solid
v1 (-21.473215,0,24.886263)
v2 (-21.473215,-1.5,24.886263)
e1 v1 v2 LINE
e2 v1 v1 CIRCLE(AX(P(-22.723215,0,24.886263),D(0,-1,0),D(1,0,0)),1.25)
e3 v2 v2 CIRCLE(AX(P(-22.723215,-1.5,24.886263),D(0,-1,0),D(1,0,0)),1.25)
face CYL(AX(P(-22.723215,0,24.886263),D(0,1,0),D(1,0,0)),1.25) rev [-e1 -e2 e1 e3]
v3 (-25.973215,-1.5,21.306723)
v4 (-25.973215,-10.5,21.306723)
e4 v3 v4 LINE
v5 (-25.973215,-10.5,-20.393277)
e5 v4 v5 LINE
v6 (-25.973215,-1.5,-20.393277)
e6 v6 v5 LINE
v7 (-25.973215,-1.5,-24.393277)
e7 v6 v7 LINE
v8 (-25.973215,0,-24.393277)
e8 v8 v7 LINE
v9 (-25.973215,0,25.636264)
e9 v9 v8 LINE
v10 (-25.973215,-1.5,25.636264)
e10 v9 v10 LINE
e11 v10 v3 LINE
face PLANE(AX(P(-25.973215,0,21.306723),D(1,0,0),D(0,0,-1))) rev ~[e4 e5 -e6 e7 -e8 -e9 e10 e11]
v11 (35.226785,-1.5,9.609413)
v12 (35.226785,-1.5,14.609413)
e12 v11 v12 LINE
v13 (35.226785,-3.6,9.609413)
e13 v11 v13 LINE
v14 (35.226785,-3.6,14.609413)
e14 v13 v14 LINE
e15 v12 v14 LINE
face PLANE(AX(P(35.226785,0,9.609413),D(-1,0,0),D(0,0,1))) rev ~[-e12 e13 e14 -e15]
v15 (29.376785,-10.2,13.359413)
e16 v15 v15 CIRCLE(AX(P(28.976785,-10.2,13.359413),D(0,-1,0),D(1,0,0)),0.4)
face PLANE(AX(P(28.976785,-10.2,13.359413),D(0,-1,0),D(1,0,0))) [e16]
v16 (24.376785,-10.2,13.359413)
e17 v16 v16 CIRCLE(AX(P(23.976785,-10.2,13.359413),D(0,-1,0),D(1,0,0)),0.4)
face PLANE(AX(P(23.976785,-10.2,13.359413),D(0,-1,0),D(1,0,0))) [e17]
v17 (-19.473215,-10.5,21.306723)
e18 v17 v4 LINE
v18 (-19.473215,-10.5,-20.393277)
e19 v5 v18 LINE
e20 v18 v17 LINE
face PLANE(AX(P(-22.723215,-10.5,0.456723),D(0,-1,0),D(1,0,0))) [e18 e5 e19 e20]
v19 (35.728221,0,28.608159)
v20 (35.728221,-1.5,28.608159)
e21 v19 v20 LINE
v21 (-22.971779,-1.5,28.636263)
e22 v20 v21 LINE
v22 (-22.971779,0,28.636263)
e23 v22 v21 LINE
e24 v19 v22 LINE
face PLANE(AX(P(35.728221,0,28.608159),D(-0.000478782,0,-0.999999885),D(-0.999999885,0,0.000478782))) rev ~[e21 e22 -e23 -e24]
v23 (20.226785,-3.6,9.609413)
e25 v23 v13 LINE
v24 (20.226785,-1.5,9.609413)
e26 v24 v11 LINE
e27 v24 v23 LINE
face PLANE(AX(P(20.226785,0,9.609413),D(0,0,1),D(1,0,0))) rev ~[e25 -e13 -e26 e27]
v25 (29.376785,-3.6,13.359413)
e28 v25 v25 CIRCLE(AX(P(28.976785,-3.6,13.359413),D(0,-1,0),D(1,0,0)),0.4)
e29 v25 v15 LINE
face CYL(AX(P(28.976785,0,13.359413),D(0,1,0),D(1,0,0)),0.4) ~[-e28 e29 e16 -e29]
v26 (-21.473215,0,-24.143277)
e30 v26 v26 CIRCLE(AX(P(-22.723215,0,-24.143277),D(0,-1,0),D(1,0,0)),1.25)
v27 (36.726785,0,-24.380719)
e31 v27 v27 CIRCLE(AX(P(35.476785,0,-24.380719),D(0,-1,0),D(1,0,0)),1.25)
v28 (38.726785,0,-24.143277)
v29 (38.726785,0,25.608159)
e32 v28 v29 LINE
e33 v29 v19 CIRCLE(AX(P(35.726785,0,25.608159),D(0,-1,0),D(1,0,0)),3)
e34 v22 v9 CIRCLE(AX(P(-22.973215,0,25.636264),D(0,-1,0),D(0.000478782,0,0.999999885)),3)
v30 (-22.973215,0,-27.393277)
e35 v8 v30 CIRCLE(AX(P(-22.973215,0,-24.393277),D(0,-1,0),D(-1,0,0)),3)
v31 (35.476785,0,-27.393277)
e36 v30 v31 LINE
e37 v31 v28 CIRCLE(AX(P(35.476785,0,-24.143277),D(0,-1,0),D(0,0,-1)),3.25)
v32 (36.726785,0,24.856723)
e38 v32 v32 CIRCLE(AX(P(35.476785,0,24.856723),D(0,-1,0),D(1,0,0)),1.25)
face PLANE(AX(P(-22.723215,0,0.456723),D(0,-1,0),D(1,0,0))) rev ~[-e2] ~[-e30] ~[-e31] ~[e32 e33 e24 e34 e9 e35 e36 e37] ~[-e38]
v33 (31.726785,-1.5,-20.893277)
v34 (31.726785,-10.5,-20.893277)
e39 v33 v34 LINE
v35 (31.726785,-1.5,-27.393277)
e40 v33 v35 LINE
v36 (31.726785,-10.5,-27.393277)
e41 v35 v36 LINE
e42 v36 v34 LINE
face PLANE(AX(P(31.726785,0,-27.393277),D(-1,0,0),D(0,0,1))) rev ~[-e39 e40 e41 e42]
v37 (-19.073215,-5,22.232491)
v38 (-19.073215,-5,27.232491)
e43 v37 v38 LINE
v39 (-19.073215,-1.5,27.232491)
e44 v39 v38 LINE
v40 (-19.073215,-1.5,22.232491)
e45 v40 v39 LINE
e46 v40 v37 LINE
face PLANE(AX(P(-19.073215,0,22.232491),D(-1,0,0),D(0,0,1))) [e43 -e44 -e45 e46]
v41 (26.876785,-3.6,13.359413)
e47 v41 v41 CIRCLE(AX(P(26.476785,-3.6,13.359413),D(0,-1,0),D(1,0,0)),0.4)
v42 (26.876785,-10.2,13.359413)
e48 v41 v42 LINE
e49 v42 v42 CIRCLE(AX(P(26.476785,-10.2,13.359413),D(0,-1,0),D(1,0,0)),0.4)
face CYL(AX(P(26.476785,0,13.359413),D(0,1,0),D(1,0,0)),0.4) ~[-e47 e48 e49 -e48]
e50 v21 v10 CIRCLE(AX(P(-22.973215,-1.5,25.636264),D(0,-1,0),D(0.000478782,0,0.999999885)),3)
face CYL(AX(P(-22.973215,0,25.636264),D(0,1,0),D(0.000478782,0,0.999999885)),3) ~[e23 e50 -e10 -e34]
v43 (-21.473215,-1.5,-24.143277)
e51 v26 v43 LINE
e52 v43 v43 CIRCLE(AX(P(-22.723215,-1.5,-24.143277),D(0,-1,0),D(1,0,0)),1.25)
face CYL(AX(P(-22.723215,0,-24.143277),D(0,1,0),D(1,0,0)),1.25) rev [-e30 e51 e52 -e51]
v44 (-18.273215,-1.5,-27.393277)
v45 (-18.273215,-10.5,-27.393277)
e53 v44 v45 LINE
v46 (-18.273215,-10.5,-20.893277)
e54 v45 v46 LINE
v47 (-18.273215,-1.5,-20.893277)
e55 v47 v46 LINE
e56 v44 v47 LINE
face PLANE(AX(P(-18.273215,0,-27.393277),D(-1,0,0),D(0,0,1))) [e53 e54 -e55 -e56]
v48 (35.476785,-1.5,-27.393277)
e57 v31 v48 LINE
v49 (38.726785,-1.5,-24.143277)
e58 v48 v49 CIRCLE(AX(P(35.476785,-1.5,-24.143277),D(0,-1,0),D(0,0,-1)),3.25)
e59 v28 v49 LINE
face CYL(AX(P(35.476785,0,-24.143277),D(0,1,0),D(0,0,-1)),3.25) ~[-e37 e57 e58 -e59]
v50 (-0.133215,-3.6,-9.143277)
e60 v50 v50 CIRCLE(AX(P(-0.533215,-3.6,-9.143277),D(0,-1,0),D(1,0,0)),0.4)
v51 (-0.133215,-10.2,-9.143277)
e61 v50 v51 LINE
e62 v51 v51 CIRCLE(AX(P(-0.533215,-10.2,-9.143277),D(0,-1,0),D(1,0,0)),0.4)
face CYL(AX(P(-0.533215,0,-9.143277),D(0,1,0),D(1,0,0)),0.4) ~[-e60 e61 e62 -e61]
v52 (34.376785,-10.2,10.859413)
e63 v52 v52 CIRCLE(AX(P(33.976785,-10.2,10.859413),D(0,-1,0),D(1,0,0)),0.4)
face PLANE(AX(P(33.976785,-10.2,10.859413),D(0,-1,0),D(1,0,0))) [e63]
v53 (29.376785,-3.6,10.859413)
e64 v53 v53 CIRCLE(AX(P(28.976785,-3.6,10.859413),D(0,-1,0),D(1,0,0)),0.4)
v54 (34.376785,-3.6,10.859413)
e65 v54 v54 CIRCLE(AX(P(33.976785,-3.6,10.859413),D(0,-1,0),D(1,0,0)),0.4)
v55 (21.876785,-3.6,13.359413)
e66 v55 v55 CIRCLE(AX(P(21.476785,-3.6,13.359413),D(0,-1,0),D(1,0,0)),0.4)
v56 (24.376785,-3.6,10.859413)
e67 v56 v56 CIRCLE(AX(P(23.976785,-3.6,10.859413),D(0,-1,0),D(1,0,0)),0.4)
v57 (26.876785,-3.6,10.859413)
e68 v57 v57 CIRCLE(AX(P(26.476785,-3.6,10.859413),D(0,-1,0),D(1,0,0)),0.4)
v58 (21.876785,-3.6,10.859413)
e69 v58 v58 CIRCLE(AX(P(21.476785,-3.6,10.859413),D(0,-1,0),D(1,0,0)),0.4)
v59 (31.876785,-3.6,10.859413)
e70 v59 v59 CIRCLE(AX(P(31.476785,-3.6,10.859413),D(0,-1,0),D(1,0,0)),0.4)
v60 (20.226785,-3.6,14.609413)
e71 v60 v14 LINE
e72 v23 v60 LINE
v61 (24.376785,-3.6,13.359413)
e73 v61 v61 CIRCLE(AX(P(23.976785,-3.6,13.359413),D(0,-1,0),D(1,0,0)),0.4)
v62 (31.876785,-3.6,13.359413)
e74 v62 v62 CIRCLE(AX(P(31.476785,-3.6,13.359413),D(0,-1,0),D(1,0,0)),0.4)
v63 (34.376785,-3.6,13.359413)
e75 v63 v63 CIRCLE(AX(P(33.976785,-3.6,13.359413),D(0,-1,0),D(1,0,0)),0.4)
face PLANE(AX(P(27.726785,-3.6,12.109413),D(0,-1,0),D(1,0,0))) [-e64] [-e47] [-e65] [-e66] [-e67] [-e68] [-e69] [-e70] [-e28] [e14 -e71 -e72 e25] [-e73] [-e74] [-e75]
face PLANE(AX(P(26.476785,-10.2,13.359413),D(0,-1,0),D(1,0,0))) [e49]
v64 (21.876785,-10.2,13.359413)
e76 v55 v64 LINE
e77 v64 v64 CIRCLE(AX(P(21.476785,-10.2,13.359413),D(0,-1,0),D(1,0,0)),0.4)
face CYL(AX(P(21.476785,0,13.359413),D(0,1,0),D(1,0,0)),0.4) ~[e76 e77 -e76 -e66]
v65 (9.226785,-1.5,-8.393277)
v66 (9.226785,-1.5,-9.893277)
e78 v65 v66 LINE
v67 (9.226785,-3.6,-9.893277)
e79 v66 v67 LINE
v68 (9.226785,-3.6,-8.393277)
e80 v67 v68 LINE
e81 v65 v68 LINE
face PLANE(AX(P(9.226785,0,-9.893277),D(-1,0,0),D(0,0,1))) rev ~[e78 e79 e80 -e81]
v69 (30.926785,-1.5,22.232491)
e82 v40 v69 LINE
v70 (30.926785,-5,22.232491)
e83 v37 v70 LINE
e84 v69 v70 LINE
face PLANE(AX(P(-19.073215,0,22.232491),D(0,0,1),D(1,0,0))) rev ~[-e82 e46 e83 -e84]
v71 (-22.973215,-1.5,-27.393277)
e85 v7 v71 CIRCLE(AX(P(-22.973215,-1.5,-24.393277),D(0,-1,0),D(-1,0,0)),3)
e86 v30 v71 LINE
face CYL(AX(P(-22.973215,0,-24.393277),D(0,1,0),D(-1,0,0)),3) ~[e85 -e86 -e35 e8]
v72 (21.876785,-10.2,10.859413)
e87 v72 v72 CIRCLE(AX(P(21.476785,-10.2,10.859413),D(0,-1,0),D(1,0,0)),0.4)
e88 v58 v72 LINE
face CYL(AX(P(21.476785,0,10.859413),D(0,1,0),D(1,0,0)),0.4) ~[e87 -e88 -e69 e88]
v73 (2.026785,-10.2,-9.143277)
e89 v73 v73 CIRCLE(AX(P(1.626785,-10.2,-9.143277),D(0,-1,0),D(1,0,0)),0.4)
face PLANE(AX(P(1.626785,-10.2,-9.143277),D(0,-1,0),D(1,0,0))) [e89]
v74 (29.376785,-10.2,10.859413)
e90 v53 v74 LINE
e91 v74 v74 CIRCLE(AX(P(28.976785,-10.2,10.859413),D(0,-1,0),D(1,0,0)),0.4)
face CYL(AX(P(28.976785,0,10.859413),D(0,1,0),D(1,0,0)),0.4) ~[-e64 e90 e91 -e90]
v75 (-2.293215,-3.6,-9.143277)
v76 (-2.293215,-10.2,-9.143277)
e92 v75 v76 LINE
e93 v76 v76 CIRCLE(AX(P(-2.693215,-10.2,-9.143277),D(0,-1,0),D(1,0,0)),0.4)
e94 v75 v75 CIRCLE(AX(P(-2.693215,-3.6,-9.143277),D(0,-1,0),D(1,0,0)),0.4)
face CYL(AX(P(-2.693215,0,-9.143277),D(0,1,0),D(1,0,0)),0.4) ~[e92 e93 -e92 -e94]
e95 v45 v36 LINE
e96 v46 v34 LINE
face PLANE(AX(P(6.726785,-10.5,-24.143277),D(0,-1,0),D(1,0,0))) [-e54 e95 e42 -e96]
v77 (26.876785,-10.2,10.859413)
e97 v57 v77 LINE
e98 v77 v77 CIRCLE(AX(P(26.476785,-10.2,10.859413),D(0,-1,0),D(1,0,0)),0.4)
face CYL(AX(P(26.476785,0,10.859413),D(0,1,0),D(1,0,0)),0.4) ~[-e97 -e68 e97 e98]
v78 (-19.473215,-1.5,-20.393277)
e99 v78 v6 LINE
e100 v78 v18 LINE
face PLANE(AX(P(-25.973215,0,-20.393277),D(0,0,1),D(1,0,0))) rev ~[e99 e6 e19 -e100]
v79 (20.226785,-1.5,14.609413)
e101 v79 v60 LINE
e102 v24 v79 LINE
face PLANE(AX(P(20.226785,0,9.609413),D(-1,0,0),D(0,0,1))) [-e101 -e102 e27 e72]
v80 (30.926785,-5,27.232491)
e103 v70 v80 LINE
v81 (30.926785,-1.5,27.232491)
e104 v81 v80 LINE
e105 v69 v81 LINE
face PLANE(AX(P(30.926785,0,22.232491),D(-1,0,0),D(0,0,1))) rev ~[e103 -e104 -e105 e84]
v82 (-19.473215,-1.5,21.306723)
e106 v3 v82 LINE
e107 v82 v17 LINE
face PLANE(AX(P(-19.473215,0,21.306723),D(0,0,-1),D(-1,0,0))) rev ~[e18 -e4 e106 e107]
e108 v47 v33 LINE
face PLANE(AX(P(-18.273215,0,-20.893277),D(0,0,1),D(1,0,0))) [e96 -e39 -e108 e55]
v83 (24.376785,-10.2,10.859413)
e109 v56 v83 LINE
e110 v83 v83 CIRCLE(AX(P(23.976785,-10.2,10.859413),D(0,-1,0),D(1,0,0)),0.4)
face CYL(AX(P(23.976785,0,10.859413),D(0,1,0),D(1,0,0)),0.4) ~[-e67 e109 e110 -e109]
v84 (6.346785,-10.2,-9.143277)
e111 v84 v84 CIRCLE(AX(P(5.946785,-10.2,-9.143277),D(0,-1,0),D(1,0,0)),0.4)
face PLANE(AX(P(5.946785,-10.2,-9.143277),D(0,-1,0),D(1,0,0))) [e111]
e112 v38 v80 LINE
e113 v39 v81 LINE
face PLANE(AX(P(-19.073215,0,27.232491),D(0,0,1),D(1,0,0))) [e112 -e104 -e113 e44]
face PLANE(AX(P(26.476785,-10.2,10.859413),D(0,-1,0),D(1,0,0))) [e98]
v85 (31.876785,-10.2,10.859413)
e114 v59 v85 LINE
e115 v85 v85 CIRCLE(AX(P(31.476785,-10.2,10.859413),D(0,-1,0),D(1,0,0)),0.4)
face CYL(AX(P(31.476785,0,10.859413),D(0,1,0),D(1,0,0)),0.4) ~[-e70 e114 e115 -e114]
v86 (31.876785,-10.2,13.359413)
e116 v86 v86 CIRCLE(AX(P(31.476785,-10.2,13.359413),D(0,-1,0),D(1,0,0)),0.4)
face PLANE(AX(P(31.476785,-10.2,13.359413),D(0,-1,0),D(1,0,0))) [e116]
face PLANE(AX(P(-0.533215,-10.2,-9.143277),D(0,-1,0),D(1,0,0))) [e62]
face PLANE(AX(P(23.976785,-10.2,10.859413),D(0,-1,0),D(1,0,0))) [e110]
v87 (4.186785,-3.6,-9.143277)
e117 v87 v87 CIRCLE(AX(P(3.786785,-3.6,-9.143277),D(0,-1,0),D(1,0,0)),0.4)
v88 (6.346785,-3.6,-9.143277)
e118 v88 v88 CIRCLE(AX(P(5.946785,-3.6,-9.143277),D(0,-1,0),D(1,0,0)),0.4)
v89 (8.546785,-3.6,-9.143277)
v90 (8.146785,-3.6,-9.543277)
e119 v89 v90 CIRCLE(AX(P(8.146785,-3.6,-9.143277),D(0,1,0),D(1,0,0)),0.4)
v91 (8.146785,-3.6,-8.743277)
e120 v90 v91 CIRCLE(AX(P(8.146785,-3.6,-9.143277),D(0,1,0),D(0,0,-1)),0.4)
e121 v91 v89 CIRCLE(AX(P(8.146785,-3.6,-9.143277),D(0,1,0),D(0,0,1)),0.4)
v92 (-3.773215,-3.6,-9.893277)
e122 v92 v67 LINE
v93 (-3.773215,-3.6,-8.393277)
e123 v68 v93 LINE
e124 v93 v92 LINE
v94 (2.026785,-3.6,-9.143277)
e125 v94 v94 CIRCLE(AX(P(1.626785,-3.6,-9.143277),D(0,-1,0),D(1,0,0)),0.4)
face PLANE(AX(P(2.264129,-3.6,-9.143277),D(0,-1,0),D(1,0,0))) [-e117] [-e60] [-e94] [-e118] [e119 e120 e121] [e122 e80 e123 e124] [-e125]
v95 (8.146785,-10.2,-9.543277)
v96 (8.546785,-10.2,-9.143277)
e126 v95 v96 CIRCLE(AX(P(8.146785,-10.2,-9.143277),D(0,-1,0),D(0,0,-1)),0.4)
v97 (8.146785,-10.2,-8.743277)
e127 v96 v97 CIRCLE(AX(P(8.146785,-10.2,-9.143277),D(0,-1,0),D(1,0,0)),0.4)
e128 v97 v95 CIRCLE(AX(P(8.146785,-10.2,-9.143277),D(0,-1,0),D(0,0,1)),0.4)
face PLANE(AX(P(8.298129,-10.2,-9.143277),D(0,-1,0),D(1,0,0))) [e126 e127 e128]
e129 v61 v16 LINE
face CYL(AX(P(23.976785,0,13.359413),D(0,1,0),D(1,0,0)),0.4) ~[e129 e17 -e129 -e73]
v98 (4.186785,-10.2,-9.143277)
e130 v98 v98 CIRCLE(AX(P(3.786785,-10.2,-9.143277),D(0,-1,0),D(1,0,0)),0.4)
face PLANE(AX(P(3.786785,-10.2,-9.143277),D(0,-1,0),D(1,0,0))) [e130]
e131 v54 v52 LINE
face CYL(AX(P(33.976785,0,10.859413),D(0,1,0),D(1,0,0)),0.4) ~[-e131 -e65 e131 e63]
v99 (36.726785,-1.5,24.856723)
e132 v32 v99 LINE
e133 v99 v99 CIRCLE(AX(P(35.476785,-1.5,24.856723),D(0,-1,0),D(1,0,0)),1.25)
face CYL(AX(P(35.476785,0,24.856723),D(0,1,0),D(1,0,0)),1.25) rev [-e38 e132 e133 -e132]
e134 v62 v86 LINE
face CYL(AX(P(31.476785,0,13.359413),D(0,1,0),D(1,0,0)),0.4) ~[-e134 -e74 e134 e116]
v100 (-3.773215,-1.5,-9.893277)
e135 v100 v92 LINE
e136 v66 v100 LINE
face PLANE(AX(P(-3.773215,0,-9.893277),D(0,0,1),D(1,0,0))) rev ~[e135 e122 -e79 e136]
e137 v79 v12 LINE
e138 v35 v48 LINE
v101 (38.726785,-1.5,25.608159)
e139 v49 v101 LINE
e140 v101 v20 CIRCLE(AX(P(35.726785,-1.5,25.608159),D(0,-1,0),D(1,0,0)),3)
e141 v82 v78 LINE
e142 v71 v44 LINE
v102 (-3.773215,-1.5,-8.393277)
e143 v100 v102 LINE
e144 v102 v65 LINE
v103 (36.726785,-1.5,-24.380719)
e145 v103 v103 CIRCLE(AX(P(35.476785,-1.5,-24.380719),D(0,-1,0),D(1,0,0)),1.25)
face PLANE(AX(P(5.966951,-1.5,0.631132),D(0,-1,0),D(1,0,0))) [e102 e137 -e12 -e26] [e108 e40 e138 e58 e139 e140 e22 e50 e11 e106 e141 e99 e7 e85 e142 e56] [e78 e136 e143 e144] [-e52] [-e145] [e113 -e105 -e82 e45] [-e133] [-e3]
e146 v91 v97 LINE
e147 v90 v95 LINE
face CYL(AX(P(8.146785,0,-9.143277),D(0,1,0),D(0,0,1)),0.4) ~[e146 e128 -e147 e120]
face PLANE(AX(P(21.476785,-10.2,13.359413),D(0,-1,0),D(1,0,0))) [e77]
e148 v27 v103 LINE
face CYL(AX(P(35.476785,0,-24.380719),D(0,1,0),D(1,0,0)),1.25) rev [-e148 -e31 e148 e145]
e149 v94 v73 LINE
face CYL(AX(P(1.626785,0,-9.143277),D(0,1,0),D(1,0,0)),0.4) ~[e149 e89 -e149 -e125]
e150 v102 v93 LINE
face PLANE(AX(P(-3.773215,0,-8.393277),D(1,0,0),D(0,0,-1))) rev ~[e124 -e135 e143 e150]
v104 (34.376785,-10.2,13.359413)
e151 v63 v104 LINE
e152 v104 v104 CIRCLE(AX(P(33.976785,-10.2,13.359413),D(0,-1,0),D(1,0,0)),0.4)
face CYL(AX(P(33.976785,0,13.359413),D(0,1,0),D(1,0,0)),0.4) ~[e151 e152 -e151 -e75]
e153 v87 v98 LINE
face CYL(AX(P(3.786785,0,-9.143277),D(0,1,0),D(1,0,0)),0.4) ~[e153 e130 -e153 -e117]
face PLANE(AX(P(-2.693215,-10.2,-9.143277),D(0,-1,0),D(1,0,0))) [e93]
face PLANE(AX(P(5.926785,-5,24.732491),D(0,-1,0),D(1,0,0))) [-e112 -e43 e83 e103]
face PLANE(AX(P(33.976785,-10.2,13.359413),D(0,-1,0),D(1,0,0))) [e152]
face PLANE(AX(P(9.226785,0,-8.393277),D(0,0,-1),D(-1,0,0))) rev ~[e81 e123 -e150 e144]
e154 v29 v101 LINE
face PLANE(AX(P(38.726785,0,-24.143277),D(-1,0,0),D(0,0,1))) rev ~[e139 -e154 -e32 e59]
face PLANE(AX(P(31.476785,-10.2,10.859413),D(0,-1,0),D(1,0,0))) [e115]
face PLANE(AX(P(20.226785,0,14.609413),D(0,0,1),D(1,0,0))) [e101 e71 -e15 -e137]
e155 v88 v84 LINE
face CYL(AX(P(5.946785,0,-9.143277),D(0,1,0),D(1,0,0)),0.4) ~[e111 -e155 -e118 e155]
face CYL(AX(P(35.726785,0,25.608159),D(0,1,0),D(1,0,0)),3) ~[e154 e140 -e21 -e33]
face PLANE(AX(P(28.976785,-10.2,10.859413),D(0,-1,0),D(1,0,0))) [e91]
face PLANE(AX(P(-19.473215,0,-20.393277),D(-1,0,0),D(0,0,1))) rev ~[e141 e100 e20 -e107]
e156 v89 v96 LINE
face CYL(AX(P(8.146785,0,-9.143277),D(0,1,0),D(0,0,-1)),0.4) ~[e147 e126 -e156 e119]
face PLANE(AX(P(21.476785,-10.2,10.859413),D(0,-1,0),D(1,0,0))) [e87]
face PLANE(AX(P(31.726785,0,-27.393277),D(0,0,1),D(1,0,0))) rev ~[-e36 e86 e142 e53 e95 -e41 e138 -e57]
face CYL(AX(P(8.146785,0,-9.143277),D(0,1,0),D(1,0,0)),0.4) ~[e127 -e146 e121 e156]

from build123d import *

# Parameters (mm, degrees)
F0_R     = 1.25
F0_W     = 50
F0_H     = 5
F0_W_2   = 15
F1_DEPTH = 1.5
F0_H_2   = 6.5
F2_DEPTH = 10.5
F0_R_2   = 0.4
F3_DEPTH = 3.6
F4_DEPTH = 10.2
F5_DEPTH = 5


with BuildPart() as f1:
    # F0 (on Front) → F1 (new body)
    with BuildSketch(Plane.XZ):
        with BuildLine():
            Line((38.7267845055, 24.8567230371), (38.7267845055, 25.6081590384))
            ThreePointArc((38.7267845055, 25.6081590384), (37.8486126129, 27.7289714965), (35.7282208505, 28.6081586945))
            Line((35.7282208505, 28.6081586945), (-22.9717791495, 28.6362631804))
            ThreePointArc((-22.9717791495, 28.6362631804), (-25.0940279526, 27.7580916317), (-25.9732154945, 25.6362635243))
            Line((-25.9732154945, 25.6362635243), (-25.9732154945, 21.3067230371))
            Line((-25.9732154945, 21.3067230371), (-19.4732154945, 21.3067230371))
            Line((-19.4732154945, 21.3067230371), (-19.4732154945, -20.3932769629))
            Line((-19.4732154945, -20.3932769629), (-25.9732154945, -20.3932769629))
            Line((-25.9732154945, -20.3932769629), (-25.9732154945, -24.3932769629))
            ThreePointArc((-25.9732154945, -24.3932769629), (-25.094535838, -26.5145973065), (-22.9732154945, -27.3932769629))
            Line((-22.9732154945, -27.3932769629), (-18.2732154945, -27.3932769629))
            Line((-18.2732154945, -27.3932769629), (-18.2732154945, -20.8932769629))
            Line((-18.2732154945, -20.8932769629), (31.7267845055, -20.8932769629))
            Line((31.7267845055, -20.8932769629), (31.7267845055, -27.3932769629))
            Line((31.7267845055, -27.3932769629), (35.4767845055, -27.3932769629))
            ThreePointArc((35.4767845055, -27.3932769629), (37.7748815444, -26.4413740018), (38.7267845055, -24.1432769629))
            Line((38.7267845055, -24.1432769629), (38.7267845055, 24.8567230371))
        make_face()
        with Locations((-22.7232154945, -24.1432769629)):
            Circle(F0_R, mode=Mode.SUBTRACT)
        Polygon((-3.7732154945, -9.8932769629), (-3.7732154945, -8.3932769629), (8.1467845055, -8.3932769629), (9.2267845055, -8.3932769629), (9.2267845055, -9.8932769629), (8.1467845055, -9.8932769629), (7.0267845055, -9.8932769629), (4.8667845055, -9.8932769629), (2.7067845055, -9.8932769629), (0.5467845055, -9.8932769629), (-1.6132154945, -9.8932769629), align=None, mode=Mode.SUBTRACT)
        with Locations((35.4767845055, -24.3807190031)):
            Circle(F0_R, mode=Mode.SUBTRACT)
        with Locations((-22.7232154945, 24.8862631804)):
            Circle(F0_R, mode=Mode.SUBTRACT)
        with Locations((5.9267845055, 24.7324910254)):
            Rectangle(F0_W, F0_H, mode=Mode.SUBTRACT)
        with Locations((27.7267845055, 12.1094132859)):
            Rectangle(F0_W_2, F0_H, mode=Mode.SUBTRACT)
        with Locations((35.4767845055, 24.8567230371)):
            Circle(F0_R, mode=Mode.SUBTRACT)
    extrude(amount=F1_DEPTH)

    # F0 (on Front) → F2 (join)
    with BuildSketch(Plane.XZ):
        Polygon((-19.4732154945, 21.3067230371), (-25.9732154945, 21.3067230371), (-25.9732154945, 8.8067230371), (-25.9732154945, -20.3932769629), (-19.4732154945, -20.3932769629), align=None)
        with Locations((6.7267845055, -24.1432769629)):
            Rectangle(F0_W, F0_H_2)
    extrude(amount=F2_DEPTH)

    # F0 (on Front) → F3 (join)
    with BuildSketch(Plane.XZ):
        with BuildLine():
            Line((8.1467845055, -8.3932769629), (-3.7732154945, -8.3932769629))
            Line((-3.7732154945, -8.3932769629), (-3.7732154945, -9.8932769629))
            Line((-3.7732154945, -9.8932769629), (-1.6132154945, -9.8932769629))
            Line((-1.6132154945, -9.8932769629), (0.5467845055, -9.8932769629))
            Line((0.5467845055, -9.8932769629), (2.7067845055, -9.8932769629))
            Line((2.7067845055, -9.8932769629), (4.8667845055, -9.8932769629))
            Line((4.8667845055, -9.8932769629), (7.0267845055, -9.8932769629))
            Line((7.0267845055, -9.8932769629), (8.1467845055, -9.8932769629))
            Line((8.1467845055, -9.8932769629), (8.1467845055, -9.5432769629))
            ThreePointArc((8.1467845055, -9.5432769629), (7.7467845055, -9.1432769629), (8.1467845055, -8.7432769629))
            Line((8.1467845055, -8.7432769629), (8.1467845055, -8.3932769629))
        make_face()
        with Locations((-2.6932154945, -9.1432769629)):
            Circle(F0_R_2, mode=Mode.SUBTRACT)
        with Locations((-0.5332154945, -9.1432769629)):
            Circle(F0_R_2, mode=Mode.SUBTRACT)
        with Locations((1.6267845055, -9.1432769629)):
            Circle(F0_R_2, mode=Mode.SUBTRACT)
        with Locations((3.7867845055, -9.1432769629)):
            Circle(F0_R_2, mode=Mode.SUBTRACT)
        with Locations((5.9467845055, -9.1432769629)):
            Circle(F0_R_2, mode=Mode.SUBTRACT)
        with BuildLine():
            Line((9.2267845055, -8.3932769629), (8.1467845055, -8.3932769629))
            Line((8.1467845055, -8.3932769629), (8.1467845055, -8.7432769629))
            ThreePointArc((8.1467845055, -8.7432769629), (8.429627218, -8.8604342504), (8.5467845055, -9.1432769629))
            ThreePointArc((8.5467845055, -9.1432769629), (8.429627218, -9.4261196754), (8.1467845055, -9.5432769629))
            Line((8.1467845055, -9.5432769629), (8.1467845055, -9.8932769629))
            Line((8.1467845055, -9.8932769629), (9.2267845055, -9.8932769629))
            Line((9.2267845055, -9.8932769629), (9.2267845055, -8.3932769629))
        make_face()
        with Locations((27.7267845055, 12.1094132859)):
            Rectangle(F0_W_2, F0_H)
        with Locations((21.4767845055, 10.8594132859)):
            Circle(F0_R_2, mode=Mode.SUBTRACT)
        with Locations((21.4767845055, 13.3594132859)):
            Circle(F0_R_2, mode=Mode.SUBTRACT)
        with Locations((23.9767845055, 10.8594132859)):
            Circle(F0_R_2, mode=Mode.SUBTRACT)
        with Locations((26.4767845055, 10.8594132859)):
            Circle(F0_R_2, mode=Mode.SUBTRACT)
        with Locations((28.9767845055, 10.8594132859)):
            Circle(F0_R_2, mode=Mode.SUBTRACT)
        with Locations((23.9767845055, 13.3594132859)):
            Circle(F0_R_2, mode=Mode.SUBTRACT)
        with Locations((26.4767845055, 13.3594132859)):
            Circle(F0_R_2, mode=Mode.SUBTRACT)
        with Locations((28.9767845055, 13.3594132859)):
            Circle(F0_R_2, mode=Mode.SUBTRACT)
        with Locations((31.4767845055, 10.8594132859)):
            Circle(F0_R_2, mode=Mode.SUBTRACT)
        with Locations((33.9767845055, 10.8594132859)):
            Circle(F0_R_2, mode=Mode.SUBTRACT)
        with Locations((31.4767845055, 13.3594132859)):
            Circle(F0_R_2, mode=Mode.SUBTRACT)
        with Locations((33.9767845055, 13.3594132859)):
            Circle(F0_R_2, mode=Mode.SUBTRACT)
    extrude(amount=F3_DEPTH)

    # F0 (on Front) → F4 (join)
    with BuildSketch(Plane.XZ):
        with Locations((21.4767845055, 13.3594132859)):
            Circle(F0_R_2)
        with Locations((23.9767845055, 13.3594132859)):
            Circle(F0_R_2)
        with Locations((26.4767845055, 13.3594132859)):
            Circle(F0_R_2)
        with Locations((28.9767845055, 13.3594132859)):
            Circle(F0_R_2)
        with Locations((31.4767845055, 13.3594132859)):
            Circle(F0_R_2)
        with Locations((33.9767845055, 13.3594132859)):
            Circle(F0_R_2)
        with Locations((21.4767845055, 10.8594132859)):
            Circle(F0_R_2)
        with Locations((23.9767845055, 10.8594132859)):
            Circle(F0_R_2)
        with Locations((26.4767845055, 10.8594132859)):
            Circle(F0_R_2)
        with Locations((28.9767845055, 10.8594132859)):
            Circle(F0_R_2)
        with Locations((31.4767845055, 10.8594132859)):
            Circle(F0_R_2)
        with Locations((33.9767845055, 10.8594132859)):
            Circle(F0_R_2)
        with Locations((-2.6932154945, -9.1432769629)):
            Circle(F0_R_2)
        with Locations((-0.5332154945, -9.1432769629)):
            Circle(F0_R_2)
        with Locations((1.6267845055, -9.1432769629)):
            Circle(F0_R_2)
        with Locations((3.7867845055, -9.1432769629)):
            Circle(F0_R_2)
        with Locations((5.9467845055, -9.1432769629)):
            Circle(F0_R_2)
        with BuildLine():
            ThreePointArc((8.5467845055, -9.1432769629), (8.429627218, -8.8604342504), (8.1467845055, -8.7432769629))
            Line((8.1467845055, -8.7432769629), (8.1467845055, -9.5432769629))
            ThreePointArc((8.1467845055, -9.5432769629), (8.429627218, -9.4261196754), (8.5467845055, -9.1432769629))
        make_face()
        with BuildLine():
            Line((8.1467845055, -9.5432769629), (8.1467845055, -8.7432769629))
            ThreePointArc((8.1467845055, -8.7432769629), (7.7467845055, -9.1432769629), (8.1467845055, -9.5432769629))
        make_face()
    extrude(amount=F4_DEPTH)

    # F0 (on Front) → F5 (join)
    with BuildSketch(Plane.XZ):
        with Locations((5.9267845055, 24.7324910254)):
            Rectangle(F0_W, F0_H)
    extrude(amount=F5_DEPTH)


solid = f1.part
